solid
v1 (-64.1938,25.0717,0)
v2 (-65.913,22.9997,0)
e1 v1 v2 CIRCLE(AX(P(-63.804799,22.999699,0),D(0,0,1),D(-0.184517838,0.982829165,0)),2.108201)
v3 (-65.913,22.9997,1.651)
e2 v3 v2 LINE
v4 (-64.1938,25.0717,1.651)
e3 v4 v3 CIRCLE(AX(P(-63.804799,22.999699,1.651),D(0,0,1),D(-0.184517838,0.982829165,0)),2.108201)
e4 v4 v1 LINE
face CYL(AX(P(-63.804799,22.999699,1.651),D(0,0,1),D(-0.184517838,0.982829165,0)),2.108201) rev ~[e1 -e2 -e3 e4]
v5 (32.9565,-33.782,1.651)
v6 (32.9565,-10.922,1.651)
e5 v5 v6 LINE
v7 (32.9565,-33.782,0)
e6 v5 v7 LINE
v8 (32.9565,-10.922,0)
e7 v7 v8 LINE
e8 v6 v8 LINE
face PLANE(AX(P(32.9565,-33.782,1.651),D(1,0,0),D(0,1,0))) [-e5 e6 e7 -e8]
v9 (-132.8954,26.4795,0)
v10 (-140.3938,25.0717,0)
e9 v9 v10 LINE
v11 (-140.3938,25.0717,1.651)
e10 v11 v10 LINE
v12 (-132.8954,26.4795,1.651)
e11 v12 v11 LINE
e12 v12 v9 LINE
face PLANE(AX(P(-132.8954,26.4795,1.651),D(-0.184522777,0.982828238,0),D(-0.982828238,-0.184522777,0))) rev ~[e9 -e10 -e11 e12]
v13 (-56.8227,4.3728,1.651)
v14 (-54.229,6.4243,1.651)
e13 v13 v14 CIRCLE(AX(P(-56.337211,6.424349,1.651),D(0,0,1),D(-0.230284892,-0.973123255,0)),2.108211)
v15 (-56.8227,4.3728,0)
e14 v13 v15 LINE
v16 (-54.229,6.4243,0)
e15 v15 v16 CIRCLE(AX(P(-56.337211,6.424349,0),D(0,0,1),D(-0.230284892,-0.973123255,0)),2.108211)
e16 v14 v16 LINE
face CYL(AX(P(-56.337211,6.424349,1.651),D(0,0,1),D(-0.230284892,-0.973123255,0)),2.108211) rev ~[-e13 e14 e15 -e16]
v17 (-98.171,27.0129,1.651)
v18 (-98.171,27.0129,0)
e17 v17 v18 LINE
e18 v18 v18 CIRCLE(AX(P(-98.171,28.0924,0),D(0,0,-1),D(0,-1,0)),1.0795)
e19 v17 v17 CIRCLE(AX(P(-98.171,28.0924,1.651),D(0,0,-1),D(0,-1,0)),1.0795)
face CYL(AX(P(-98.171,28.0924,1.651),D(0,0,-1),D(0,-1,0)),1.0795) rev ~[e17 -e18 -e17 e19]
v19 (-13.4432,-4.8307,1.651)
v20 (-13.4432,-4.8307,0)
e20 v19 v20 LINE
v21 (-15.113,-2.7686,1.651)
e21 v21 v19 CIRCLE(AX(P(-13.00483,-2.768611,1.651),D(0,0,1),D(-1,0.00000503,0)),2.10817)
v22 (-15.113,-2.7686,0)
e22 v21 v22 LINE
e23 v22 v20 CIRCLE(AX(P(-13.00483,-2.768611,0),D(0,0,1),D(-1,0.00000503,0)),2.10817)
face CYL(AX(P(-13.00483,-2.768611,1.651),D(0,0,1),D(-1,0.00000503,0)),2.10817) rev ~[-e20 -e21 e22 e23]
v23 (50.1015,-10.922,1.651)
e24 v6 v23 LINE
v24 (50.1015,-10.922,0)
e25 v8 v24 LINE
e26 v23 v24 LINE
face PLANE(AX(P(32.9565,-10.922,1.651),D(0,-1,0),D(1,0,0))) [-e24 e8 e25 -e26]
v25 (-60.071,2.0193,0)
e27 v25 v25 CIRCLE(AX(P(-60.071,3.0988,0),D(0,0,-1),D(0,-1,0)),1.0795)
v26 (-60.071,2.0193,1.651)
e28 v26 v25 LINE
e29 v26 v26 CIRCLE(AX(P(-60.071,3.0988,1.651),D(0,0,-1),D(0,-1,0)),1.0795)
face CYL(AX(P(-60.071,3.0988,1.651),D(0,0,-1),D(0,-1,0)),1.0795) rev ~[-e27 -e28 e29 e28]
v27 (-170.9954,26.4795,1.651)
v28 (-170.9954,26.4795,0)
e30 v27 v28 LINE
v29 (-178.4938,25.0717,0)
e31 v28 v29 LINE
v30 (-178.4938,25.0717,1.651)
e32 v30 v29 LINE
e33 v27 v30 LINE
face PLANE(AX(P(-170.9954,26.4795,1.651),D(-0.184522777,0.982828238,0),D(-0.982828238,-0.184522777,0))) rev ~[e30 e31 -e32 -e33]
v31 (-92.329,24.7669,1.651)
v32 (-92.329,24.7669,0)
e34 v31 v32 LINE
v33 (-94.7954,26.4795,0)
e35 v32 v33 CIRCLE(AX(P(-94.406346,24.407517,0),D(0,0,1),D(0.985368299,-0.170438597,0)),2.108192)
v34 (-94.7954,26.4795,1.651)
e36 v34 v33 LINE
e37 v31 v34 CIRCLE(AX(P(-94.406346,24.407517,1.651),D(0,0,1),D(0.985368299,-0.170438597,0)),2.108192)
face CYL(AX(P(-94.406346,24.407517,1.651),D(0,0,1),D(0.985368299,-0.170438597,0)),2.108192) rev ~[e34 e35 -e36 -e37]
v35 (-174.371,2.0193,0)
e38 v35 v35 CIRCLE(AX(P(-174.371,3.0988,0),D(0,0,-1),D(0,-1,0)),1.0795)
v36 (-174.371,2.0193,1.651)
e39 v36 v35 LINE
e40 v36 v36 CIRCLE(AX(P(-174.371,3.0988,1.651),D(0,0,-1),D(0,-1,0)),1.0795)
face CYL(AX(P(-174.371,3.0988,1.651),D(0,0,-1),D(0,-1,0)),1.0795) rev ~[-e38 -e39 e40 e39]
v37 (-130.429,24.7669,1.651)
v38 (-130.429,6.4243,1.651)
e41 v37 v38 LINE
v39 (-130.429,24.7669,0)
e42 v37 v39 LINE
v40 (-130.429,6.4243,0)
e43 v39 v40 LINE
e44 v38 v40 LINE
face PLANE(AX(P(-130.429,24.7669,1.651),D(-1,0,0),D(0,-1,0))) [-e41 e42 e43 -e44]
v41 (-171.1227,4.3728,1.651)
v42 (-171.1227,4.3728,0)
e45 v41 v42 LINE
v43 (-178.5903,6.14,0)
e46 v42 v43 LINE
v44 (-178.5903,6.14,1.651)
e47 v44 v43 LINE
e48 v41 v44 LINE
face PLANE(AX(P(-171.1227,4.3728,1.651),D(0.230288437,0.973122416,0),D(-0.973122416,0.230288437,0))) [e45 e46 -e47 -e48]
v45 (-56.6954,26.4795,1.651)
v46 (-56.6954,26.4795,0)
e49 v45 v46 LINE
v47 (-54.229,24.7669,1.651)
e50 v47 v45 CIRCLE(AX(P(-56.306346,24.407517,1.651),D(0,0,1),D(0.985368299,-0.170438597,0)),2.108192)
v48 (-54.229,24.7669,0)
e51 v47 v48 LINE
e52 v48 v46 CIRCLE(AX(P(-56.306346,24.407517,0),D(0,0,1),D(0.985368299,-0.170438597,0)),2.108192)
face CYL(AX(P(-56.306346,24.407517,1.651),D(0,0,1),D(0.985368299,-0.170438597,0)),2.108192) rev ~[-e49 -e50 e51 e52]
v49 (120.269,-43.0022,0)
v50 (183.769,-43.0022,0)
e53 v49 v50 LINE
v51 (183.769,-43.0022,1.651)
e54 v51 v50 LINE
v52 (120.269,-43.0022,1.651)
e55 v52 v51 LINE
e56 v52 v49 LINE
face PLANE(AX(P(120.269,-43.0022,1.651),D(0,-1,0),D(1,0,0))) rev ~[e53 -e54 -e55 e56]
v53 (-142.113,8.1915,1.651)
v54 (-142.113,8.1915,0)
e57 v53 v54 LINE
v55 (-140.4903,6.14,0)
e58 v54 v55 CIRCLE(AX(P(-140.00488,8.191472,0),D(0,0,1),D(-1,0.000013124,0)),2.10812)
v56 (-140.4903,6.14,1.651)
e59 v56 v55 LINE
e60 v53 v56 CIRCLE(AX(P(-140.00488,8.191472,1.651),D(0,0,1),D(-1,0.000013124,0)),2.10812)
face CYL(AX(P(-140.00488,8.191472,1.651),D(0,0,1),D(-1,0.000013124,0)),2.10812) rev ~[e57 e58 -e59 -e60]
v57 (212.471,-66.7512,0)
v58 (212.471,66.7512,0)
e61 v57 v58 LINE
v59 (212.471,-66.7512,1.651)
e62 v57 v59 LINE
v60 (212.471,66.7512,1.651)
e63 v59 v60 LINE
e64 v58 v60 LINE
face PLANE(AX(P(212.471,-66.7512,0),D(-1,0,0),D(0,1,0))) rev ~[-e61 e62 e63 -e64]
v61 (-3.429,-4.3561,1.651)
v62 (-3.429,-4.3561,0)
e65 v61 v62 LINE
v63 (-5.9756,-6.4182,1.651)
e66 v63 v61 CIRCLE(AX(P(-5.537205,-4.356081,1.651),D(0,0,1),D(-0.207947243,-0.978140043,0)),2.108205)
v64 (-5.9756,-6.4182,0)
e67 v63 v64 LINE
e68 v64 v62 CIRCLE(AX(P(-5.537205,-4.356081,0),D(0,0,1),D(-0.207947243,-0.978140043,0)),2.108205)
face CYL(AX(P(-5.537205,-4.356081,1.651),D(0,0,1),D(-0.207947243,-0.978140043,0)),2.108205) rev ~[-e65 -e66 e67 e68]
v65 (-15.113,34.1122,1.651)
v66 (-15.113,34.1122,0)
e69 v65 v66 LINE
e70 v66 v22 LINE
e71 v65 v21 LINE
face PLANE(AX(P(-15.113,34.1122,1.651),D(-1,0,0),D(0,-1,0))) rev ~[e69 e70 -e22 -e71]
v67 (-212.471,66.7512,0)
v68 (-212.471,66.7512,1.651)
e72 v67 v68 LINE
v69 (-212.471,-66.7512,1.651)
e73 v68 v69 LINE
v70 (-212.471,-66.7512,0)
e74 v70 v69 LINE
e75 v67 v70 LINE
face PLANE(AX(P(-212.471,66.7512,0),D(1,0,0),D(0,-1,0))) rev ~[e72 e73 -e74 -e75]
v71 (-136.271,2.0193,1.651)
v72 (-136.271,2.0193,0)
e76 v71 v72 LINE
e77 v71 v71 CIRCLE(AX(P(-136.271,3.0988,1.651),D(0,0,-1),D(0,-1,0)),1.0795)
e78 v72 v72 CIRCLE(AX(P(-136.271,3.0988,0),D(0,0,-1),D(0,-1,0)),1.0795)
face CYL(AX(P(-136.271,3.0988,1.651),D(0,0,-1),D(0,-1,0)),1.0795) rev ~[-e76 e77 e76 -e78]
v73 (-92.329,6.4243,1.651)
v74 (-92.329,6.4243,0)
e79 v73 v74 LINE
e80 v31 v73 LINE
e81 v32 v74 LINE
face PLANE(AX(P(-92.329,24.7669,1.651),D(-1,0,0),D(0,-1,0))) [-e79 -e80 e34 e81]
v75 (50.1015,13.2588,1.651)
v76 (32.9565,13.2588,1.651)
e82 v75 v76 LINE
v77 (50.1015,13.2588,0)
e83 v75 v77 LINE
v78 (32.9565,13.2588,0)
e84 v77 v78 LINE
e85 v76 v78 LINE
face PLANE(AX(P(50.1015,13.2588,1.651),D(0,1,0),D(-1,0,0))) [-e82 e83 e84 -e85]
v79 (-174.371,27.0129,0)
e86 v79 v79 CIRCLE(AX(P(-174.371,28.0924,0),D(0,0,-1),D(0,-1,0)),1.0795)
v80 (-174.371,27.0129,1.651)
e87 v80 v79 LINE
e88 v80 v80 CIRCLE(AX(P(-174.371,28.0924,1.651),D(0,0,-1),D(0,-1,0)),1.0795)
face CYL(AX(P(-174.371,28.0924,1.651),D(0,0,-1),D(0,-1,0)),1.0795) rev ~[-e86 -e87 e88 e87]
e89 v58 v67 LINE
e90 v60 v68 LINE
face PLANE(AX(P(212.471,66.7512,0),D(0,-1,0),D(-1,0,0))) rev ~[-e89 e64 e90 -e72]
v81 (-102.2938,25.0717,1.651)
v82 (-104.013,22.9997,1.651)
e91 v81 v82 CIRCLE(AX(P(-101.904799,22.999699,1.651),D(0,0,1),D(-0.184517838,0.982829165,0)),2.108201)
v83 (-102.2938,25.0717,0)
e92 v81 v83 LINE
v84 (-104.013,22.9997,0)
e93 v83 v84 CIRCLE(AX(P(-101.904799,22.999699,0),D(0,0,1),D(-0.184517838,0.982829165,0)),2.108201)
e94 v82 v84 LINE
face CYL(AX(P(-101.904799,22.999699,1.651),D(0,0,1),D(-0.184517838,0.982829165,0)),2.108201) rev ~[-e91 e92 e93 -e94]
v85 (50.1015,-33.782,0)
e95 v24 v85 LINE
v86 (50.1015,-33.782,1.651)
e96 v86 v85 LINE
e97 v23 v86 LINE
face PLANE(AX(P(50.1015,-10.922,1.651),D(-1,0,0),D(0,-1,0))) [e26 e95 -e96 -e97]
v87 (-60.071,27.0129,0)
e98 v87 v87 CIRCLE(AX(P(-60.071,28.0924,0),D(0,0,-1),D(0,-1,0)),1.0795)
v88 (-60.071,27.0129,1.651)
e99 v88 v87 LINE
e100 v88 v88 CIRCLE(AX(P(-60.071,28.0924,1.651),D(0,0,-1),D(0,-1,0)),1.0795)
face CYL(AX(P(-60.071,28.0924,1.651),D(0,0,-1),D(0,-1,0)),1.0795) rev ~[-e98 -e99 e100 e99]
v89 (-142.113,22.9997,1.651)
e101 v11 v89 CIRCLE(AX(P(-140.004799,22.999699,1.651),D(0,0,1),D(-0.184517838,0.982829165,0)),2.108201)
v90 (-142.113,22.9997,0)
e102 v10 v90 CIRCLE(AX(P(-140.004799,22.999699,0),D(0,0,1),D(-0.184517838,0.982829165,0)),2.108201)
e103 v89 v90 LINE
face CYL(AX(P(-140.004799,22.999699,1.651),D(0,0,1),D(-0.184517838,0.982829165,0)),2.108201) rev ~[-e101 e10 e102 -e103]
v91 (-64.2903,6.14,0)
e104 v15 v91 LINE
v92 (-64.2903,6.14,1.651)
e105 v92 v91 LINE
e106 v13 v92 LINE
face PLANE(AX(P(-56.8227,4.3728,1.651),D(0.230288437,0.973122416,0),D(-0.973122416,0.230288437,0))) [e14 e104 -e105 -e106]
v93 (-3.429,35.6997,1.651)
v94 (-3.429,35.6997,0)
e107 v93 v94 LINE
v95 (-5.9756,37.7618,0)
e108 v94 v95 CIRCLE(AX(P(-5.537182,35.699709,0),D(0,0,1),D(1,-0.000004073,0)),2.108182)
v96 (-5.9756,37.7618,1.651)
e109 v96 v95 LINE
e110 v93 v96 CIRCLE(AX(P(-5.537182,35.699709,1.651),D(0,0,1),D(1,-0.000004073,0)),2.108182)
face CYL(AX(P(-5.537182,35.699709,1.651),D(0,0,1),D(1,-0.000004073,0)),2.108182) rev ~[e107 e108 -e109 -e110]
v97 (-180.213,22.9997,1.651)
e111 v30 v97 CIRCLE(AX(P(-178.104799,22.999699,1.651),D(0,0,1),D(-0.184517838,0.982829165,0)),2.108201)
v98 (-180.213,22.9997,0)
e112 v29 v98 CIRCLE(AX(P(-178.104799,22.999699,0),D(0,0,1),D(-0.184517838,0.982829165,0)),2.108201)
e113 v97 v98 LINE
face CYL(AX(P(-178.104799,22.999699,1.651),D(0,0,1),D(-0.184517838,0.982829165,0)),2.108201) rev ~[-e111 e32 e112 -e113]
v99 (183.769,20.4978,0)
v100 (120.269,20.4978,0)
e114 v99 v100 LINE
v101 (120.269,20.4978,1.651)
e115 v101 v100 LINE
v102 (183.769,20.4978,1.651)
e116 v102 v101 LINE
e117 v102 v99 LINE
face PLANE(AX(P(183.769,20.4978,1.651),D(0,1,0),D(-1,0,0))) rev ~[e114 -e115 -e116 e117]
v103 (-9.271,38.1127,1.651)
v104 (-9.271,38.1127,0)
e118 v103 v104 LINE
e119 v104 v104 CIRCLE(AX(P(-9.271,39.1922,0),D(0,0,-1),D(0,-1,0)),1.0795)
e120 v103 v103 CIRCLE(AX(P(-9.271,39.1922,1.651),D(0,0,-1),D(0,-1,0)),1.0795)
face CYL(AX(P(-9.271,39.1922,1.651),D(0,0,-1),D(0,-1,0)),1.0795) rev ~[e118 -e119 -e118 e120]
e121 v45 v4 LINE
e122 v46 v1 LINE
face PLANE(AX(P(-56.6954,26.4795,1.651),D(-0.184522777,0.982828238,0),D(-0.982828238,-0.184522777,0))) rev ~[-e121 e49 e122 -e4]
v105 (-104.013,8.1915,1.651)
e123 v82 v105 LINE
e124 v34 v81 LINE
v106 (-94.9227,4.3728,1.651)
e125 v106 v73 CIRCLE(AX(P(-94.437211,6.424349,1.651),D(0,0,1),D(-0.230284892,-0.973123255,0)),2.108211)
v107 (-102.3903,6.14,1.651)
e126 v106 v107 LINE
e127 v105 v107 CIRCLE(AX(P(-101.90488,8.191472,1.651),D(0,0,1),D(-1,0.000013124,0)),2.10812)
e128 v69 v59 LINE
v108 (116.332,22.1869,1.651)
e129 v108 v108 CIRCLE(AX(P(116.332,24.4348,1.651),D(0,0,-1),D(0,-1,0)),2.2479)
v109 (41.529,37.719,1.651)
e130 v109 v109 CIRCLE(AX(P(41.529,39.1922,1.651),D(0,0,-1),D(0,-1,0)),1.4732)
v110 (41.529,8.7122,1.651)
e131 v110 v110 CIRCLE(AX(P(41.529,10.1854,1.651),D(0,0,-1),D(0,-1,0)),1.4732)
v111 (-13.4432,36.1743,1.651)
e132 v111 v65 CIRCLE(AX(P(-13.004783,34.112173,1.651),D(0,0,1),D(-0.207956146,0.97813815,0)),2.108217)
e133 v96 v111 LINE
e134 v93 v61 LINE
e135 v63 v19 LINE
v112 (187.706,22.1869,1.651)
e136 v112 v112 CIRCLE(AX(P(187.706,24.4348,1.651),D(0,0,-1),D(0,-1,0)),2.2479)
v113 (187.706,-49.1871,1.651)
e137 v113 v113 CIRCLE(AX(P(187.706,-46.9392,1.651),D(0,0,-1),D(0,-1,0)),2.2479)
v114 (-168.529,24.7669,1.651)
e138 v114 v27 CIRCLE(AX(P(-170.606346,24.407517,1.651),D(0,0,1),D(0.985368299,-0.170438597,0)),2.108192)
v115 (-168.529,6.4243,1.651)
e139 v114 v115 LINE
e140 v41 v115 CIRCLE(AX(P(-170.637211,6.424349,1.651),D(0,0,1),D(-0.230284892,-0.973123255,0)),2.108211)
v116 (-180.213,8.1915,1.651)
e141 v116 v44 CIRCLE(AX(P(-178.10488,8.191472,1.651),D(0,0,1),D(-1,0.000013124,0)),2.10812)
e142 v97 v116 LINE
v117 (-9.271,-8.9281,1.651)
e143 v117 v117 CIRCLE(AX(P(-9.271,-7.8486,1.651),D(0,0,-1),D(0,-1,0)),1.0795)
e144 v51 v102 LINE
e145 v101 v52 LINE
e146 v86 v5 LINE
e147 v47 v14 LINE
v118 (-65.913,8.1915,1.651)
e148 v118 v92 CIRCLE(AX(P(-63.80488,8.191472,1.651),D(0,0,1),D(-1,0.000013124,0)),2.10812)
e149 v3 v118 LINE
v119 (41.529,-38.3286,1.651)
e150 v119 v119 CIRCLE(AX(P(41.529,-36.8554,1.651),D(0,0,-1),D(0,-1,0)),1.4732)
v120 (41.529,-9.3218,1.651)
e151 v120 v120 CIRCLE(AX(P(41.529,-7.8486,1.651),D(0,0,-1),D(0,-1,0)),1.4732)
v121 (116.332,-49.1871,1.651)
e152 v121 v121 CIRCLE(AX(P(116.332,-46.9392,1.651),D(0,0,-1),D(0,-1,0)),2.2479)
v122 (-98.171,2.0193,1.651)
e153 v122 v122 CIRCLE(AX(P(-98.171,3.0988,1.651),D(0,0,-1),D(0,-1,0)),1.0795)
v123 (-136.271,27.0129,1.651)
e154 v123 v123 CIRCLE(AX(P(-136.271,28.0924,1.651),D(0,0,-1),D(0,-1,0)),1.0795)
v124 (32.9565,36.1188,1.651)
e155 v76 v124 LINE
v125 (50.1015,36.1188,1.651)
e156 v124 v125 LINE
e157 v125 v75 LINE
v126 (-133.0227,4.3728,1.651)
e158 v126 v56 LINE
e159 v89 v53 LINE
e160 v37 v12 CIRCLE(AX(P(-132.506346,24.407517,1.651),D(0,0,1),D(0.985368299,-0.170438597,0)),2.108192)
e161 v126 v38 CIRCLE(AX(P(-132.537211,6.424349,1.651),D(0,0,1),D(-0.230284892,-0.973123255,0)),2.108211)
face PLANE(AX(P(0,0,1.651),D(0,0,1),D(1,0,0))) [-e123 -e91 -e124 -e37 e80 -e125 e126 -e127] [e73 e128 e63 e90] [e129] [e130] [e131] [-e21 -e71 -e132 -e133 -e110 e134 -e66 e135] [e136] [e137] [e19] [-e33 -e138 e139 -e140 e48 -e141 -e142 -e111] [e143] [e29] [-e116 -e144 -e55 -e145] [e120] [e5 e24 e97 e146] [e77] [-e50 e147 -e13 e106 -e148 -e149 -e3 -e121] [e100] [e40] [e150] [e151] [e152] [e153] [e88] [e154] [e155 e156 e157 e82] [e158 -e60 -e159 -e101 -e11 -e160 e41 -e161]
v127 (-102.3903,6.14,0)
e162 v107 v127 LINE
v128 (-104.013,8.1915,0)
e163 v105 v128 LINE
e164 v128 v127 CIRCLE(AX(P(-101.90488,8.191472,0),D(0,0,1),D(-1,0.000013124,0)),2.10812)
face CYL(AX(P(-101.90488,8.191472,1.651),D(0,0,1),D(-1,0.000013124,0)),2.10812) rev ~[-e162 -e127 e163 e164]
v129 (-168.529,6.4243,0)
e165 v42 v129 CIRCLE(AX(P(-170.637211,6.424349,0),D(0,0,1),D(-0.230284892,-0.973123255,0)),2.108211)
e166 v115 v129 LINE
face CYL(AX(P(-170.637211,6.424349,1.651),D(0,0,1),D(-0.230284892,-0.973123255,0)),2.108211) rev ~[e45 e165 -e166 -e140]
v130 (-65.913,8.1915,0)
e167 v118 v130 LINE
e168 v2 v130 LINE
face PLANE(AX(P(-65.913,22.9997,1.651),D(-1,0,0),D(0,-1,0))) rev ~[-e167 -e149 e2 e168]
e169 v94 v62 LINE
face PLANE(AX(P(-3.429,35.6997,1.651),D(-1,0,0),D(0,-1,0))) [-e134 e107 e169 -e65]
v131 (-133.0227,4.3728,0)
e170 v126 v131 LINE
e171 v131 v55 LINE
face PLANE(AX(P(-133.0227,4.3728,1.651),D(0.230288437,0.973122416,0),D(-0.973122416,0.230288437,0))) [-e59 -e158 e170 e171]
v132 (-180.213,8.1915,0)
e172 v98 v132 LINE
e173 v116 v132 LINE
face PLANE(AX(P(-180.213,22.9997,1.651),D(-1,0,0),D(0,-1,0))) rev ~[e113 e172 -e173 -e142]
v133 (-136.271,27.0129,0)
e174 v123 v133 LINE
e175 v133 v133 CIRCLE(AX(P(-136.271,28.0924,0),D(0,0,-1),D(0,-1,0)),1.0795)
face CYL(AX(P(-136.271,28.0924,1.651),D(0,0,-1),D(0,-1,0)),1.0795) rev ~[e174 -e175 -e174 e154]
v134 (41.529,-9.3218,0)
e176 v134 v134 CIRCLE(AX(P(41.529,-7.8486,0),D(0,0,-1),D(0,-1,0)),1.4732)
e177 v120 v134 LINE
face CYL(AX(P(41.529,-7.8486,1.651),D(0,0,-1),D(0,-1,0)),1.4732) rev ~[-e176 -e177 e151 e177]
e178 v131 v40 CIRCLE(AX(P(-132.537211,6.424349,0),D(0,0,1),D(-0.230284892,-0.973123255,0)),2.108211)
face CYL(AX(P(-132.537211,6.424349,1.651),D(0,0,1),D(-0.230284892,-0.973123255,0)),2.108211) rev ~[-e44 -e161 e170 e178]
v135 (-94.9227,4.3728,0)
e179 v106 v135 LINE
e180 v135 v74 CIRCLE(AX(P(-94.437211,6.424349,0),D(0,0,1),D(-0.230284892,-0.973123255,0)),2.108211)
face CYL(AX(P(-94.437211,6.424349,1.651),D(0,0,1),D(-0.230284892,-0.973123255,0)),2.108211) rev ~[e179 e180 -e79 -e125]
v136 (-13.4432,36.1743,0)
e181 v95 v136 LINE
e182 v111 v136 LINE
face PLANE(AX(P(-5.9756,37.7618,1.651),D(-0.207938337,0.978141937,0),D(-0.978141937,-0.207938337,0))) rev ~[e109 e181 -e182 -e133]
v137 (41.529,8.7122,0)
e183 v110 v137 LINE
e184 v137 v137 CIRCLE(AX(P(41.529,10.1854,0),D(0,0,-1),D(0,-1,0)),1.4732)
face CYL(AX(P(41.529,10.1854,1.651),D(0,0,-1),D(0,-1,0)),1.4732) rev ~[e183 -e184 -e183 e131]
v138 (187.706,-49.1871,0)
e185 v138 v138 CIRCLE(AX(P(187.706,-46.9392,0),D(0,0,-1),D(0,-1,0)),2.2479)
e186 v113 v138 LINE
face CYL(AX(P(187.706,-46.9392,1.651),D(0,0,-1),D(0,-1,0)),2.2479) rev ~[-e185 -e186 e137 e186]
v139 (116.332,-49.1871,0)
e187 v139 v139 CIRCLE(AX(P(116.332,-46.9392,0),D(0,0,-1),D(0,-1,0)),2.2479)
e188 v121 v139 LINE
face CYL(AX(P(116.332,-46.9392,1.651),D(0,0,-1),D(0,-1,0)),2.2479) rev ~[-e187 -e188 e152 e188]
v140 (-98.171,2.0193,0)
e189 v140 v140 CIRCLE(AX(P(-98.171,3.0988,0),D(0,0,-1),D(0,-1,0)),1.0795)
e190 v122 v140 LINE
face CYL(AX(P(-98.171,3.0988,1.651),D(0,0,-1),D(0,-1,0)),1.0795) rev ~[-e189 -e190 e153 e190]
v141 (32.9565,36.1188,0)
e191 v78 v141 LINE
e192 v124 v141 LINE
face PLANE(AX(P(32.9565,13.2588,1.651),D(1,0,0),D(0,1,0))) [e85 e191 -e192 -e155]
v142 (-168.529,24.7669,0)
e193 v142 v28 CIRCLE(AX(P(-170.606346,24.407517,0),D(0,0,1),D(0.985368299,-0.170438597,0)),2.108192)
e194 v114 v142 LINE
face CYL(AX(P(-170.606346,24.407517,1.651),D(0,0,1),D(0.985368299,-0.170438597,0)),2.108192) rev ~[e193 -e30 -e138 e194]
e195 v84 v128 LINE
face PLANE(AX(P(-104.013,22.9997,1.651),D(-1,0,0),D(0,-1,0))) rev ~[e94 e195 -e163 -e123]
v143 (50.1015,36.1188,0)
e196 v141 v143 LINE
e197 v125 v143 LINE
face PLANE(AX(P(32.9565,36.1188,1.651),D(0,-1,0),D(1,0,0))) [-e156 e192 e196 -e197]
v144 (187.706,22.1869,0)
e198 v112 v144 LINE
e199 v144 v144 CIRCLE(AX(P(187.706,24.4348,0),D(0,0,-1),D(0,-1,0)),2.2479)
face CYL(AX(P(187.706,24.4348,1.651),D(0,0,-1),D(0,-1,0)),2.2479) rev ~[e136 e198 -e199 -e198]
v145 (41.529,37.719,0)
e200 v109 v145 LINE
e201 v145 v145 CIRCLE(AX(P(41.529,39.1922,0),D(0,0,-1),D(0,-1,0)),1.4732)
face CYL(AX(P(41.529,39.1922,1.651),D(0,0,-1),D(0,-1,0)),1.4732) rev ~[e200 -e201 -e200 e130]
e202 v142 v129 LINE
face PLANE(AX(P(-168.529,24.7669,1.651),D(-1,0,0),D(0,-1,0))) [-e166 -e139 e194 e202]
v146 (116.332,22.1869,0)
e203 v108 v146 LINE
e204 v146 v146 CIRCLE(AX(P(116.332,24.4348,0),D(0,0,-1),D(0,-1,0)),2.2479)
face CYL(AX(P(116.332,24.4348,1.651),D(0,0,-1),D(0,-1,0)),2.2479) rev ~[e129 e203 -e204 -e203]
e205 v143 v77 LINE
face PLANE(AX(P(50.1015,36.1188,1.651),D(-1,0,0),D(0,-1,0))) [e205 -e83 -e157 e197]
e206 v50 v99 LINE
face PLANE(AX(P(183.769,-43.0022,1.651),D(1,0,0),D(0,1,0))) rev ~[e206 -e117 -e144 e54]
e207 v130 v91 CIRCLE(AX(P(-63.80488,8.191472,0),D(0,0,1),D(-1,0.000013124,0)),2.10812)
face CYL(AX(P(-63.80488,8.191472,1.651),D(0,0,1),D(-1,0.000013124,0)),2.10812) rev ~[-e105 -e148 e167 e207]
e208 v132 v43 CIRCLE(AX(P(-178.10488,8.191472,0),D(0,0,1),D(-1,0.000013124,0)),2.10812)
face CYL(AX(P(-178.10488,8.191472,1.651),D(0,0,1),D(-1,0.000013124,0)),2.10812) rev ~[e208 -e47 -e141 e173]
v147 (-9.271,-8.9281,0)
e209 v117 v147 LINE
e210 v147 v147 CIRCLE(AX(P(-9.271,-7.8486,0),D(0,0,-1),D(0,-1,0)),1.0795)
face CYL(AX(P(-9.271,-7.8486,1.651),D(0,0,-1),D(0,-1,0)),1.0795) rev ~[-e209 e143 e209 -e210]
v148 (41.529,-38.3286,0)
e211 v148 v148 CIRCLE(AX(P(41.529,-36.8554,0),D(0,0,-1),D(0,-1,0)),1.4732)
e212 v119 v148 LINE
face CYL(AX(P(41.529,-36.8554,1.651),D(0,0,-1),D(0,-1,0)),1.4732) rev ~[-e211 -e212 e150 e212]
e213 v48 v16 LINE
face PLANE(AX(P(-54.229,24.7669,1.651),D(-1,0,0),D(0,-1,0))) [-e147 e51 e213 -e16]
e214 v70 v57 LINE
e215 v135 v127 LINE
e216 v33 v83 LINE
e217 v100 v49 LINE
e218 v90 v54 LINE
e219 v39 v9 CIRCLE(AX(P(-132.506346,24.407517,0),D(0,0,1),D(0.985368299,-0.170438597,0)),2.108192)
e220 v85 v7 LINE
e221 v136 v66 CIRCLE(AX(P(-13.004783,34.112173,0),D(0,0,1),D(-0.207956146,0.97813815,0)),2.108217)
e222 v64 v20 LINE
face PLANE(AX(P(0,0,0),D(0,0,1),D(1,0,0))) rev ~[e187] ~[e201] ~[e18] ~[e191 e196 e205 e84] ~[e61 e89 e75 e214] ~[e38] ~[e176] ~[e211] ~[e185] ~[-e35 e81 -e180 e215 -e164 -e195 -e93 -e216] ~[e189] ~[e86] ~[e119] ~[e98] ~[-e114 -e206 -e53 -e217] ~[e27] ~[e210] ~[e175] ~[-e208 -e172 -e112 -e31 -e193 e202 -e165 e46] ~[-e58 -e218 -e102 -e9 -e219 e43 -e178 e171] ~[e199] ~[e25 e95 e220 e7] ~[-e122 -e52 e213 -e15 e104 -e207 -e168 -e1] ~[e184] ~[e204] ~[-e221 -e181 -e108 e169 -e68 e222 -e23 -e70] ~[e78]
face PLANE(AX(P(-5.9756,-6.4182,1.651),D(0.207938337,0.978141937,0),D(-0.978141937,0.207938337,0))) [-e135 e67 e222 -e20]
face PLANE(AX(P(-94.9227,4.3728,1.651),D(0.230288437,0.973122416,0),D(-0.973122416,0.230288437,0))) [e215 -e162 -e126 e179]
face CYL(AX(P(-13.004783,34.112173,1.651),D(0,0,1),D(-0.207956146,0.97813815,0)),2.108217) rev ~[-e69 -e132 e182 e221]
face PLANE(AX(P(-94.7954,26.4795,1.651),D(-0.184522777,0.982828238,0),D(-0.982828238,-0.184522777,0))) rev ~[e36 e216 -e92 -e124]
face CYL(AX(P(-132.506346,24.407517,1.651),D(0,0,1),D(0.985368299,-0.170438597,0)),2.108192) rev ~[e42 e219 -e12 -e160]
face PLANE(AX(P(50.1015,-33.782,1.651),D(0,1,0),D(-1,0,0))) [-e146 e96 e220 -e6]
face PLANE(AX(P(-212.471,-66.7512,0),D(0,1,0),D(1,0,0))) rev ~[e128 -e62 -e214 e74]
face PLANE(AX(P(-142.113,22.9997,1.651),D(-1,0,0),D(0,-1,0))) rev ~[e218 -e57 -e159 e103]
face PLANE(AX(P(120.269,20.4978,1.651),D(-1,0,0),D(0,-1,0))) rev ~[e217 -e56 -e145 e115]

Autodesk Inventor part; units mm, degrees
ref_plane "YZ Plane" through (0, 0, 0) normal (1, 0, 0) x (0, 1, 0)
ref_plane "XZ Plane" through (0, 0, 0) normal (0, 1, 0) x (-1, 0, 0)
ref_plane "XY Plane" through (0, 0, 0) normal (0, 0, 1) x (1, 0, 0)
sketch "Sketch1" plane through (0, 0, 0) normal (0, 0, 1) x (1, 0, 0)
  line L0 (-212.471, -66.7512) -> (212.471, -66.7512)
  line L1 (212.471, -66.7512) -> (212.471, 66.7512)
  line L2 (212.471, 66.7512) -> (-212.471, 66.7512)
  line L3 (-212.471, 66.7512) -> (-212.471, -66.7512)
  line L4 (-212.471, -66.7512) -> (212.471, 66.7512) construction
  line L5 (212.471, -66.7512) -> (-212.471, 66.7512) construction
  point P0 (0, 0)
  dimension "d0" = 424.942
  dimension "d1" = 133.5024
extrude "pdu" add sketch "Sketch1" along normal blind 1.651
sketch "dsub9 sketch" plane through (0, 0, 1.651) normal (0, 0, 1) x (1, 0, 0)
  line L0 (-174.371, 28.0924) -> (-174.371, 3.0988) construction
  line L1 (-164.2108, 15.5956) -> (-184.5312, 15.5956) construction
  circle A0 centre (-174.371, 3.0988) radius 1.1303
  circle A1 centre (-174.371, 28.0924) radius 1.1303
  line L2 (-168.529, 24.7669) -> (-168.529, 6.4243)
  line L3 (-180.213, 22.9997) -> (-180.213, 8.1915)
  arc A2 (-171.1227, 4.3728) -> (-168.529, 6.4243) centre (-170.6372, 6.4243) ccw
  arc A3 (-180.213, 8.1915) -> (-178.5903, 6.14) centre (-178.1048, 8.1915) ccw
  arc A4 (-178.4938, 25.0717) -> (-180.213, 22.9997) centre (-178.1048, 22.9997) ccw
  arc A5 (-168.529, 24.0482) -> (-170.9954, 26.4795) centre (-170.6064, 24.4075) ccw
  line L4 (-170.9954, 26.4795) -> (-178.4938, 25.0717)
  line L5 (-171.1227, 4.3728) -> (-178.5903, 6.14)
  line L6 (209.423, 58.4962) -> (-209.423, 58.4962) construction
  line L7 (-209.423, 58.4962) -> (-209.423, -58.4962) construction
  line L8 (-209.423, -58.4962) -> (209.423, -58.4962) construction
  line L9 (209.423, -58.4962) -> (209.423, 58.4962) construction
  line L10 (212.471, 66.7512) -> (-212.471, 66.7512) construction
  line L11 (-212.471, -66.7512) -> (212.471, -66.7512) construction
  line L12 (-212.471, 66.7512) -> (-212.471, -66.7512) construction
  line L13 (212.471, -66.7512) -> (212.471, 66.7512) construction
  line L14 (-170.6372, 4.3161) -> (-187.2839, 4.3161) construction
  line L15 (-170.6064, 26.5157) -> (-195.0837, 26.5157) construction
  line L16 (-136.271, 28.0924) -> (-136.271, 3.0988) construction
  line L17 (-132.5064, 26.5157) -> (-156.9837, 26.5157) construction
  line L18 (-130.429, 24.7669) -> (-130.429, 6.4243)
  line L19 (-133.0227, 4.3728) -> (-140.4903, 6.14)
  circle A6 centre (-136.271, 28.0924) radius 1.1303
  circle A7 centre (-136.271, 3.0988) radius 1.1303
  line L20 (-132.5372, 4.3161) -> (-149.1839, 4.3161) construction
  line L21 (-126.1108, 15.5956) -> (-146.4312, 15.5956) construction
  arc A8 (-130.429, 24.0482) -> (-132.8954, 26.4795) centre (-132.5064, 24.4075) ccw
  line L22 (-142.113, 22.9997) -> (-142.113, 8.1915)
  line L23 (-132.8954, 26.4795) -> (-140.3938, 25.0717)
  arc A9 (-133.0227, 4.3728) -> (-130.429, 6.4243) centre (-132.5372, 6.4243) ccw
  arc A10 (-142.113, 8.1915) -> (-140.4903, 6.14) centre (-140.0048, 8.1915) ccw
  arc A11 (-140.3938, 25.0717) -> (-142.113, 22.9997) centre (-140.0048, 22.9997) ccw
  line L24 (-98.171, 28.0924) -> (-98.171, 3.0988) construction
  line L25 (-94.4064, 26.5157) -> (-118.8837, 26.5157) construction
  line L26 (-92.329, 24.7669) -> (-92.329, 6.4243)
  line L27 (-94.9227, 4.3728) -> (-102.3903, 6.14)
  circle A12 centre (-98.171, 28.0924) radius 1.1303
  circle A13 centre (-98.171, 3.0988) radius 1.1303
  line L28 (-94.4372, 4.3161) -> (-111.0839, 4.3161) construction
  line L29 (-88.0108, 15.5956) -> (-108.3312, 15.5956) construction
  arc A14 (-92.329, 24.0482) -> (-94.7954, 26.4795) centre (-94.4064, 24.4075) ccw
  line L30 (-104.013, 22.9997) -> (-104.013, 8.1915)
  line L31 (-94.7954, 26.4795) -> (-102.2938, 25.0717)
  arc A15 (-94.9227, 4.3728) -> (-92.329, 6.4243) centre (-94.4372, 6.4243) ccw
  arc A16 (-104.013, 8.1915) -> (-102.3903, 6.14) centre (-101.9048, 8.1915) ccw
  arc A17 (-102.2938, 25.0717) -> (-104.013, 22.9997) centre (-101.9048, 22.9997) ccw
  line L32 (-60.071, 28.0924) -> (-60.071, 3.0988) construction
  line L33 (-56.3064, 26.5157) -> (-80.7837, 26.5157) construction
  line L34 (-54.229, 24.7669) -> (-54.229, 6.4243)
  line L35 (-56.8227, 4.3728) -> (-64.2903, 6.14)
  circle A18 centre (-60.071, 28.0924) radius 1.1303
  circle A19 centre (-60.071, 3.0988) radius 1.1303
  line L36 (-56.3372, 4.3161) -> (-72.9839, 4.3161) construction
  line L37 (-49.9108, 15.5956) -> (-70.2312, 15.5956) construction
  arc A20 (-54.229, 24.0482) -> (-56.6954, 26.4795) centre (-56.3064, 24.4075) ccw
  line L38 (-65.913, 22.9997) -> (-65.913, 8.1915)
  line L39 (-56.6954, 26.4795) -> (-64.1938, 25.0717)
  arc A21 (-56.8227, 4.3728) -> (-54.229, 6.4243) centre (-56.3372, 6.4243) ccw
  arc A22 (-65.913, 8.1915) -> (-64.2903, 6.14) centre (-63.8048, 8.1915) ccw
  arc A23 (-64.1938, 25.0717) -> (-65.913, 22.9997) centre (-63.8048, 22.9997) ccw
  point P0 (0, 0)
  point P1 (-174.371, 15.5956)
  point P2 (-168.529, 15.5956)
  point P3 (-180.213, 15.5956)
  point P4 (-136.271, 15.5956)
  point P5 (-130.429, 15.5956)
  point P6 (-142.113, 15.5956)
  point P7 (-98.171, 15.5956)
  point P8 (-92.329, 15.5956)
  point P9 (-104.013, 15.5956)
  point P10 (-60.071, 15.5956)
  point P11 (-54.229, 15.5956)
  point P12 (-65.913, 15.5956)
  dimension "d4" = 2.2606
  dimension "d5" = 2.2606
  dimension "d6" = 24.9936
  dimension "d7" = 4.2164
  dimension "d8" = 4.2164
  dimension "d9" = 4.2164
  dimension "d10" = 4.2164
  dimension "d11" = 14.8082
  dimension "d12" = 17.9832
  dimension "d13" = 8.255
  dimension "d14" = 8.255
  dimension "d15" = 3.048
  dimension "d16" = 3.048
  dimension "d17" = 38.1
  dimension "d18" = 5.842
  dimension "d19" = 11.684
  dimension "d20" = 69.85
  dimension "d21" = 7.4985
  dimension "d24" = 38.1
sketch "dsub25 sketch" plane through (0, 0, 1.651) normal (0, 0, 1) x (1, 0, 0)
  line L0 (16.129, 15.6718) -> (-34.671, 15.6718) construction
  line L1 (-9.271, 39.1922) -> (-9.271, -7.8486) construction
  circle A0 centre (-9.271, -7.8486) radius 1.1303
  circle A1 centre (-9.271, 39.1922) radius 1.1303
  line L2 (-3.429, 35.6997) -> (-3.429, -4.3561)
  line L3 (-15.113, 34.1122) -> (-15.113, -2.7686)
  arc A2 (-5.9756, -6.4182) -> (-3.429, -4.3561) centre (-5.5372, -4.3561) ccw
  arc A3 (-3.429, 35.6997) -> (-5.9756, 37.7618) centre (-5.5372, 35.6997) ccw
  arc A4 (-13.4432, 36.1743) -> (-15.113, 34.1122) centre (-13.0048, 34.1122) ccw
  arc A5 (-15.113, -2.7686) -> (-13.4432, -4.8307) centre (-13.0048, -2.7686) ccw
  line L4 (-5.9756, 37.7618) -> (-13.4432, 36.1743)
  line L5 (-5.9756, -6.4182) -> (-13.4432, -4.8307)
  line L6 (-212.471, 66.7512) -> (-212.471, -66.7512) projected
  line L7 (-212.471, -66.7512) -> (212.471, -66.7512) projected
  line L8 (-5.9756, 37.7618) -> (-23.5611, 37.7618) construction
  line L9 (-5.7893, -19.1331) -> (-33.2019, -19.1331) construction
  point P0 (0, 0)
  point P1 (-9.271, 15.6718)
  point P2 (-9.271, 15.6718)
  point P3 (-3.429, 15.6718)
  point P4 (-15.113, 15.6718)
  dimension "d31" = 2.2606
  dimension "d32" = 2.2606
  dimension "d33" = 47.0408
  dimension "d34" = 4.2164
  dimension "d35" = 4.2164
  dimension "d36" = 4.2164
  dimension "d37" = 4.2164
  dimension "d38" = 36.8808
  dimension "d39" = 40.0558
  dimension "d40" = 50.8
  dimension "d41" = 11.684
  dimension "d42" = 5.842
  dimension "d43" = 203.2
  dimension "d44" = 58.9026
sketch "CAT7 sketch" plane through (0, 0, 1.651) normal (0, 0, 1) x (1, 0, 0)
  line L0 (32.9565, 36.1188) -> (50.1015, 36.1188)
  line L1 (50.1015, 36.1188) -> (50.1015, 13.2588)
  line L2 (50.1015, 13.2588) -> (32.9565, 13.2588)
  line L3 (32.9565, 13.2588) -> (32.9565, 36.1188)
  line L4 (23.6736, 24.6888) -> (79.7413, 24.6888) construction
  circle A0 centre (41.529, 39.1922) radius 1.1303
  circle A1 centre (41.529, 10.1854) radius 1.1303
  line L5 (41.529, 39.1922) -> (41.529, 10.1854) construction
  line L6 (-212.471, -66.7512) -> (212.471, -66.7512) construction
  line L7 (-212.471, 66.7512) -> (-212.471, -66.7512) construction
  line L8 (32.9565, -10.922) -> (50.1015, -10.922)
  line L9 (50.1015, -10.922) -> (50.1015, -33.782)
  line L10 (50.1015, -33.782) -> (32.9565, -33.782)
  line L11 (32.9565, -33.782) -> (32.9565, -10.922)
  circle A2 centre (41.529, -7.8486) radius 1.1303
  circle A3 centre (41.529, -36.8554) radius 1.1303
  line L12 (41.529, -7.8486) -> (41.529, -36.8554) construction
  point P0 (0, 0)
  point P1 (32.9565, 24.6888)
  point P2 (41.529, 36.1188)
  point P3 (41.529, 24.6888)
  point P4 (41.529, -10.922)
  point P5 (32.9565, -22.352)
  point P6 (23.6736, -22.352)
  point P7 (41.529, -22.352)
  dimension "d47" = 22.86
  dimension "d48" = 17.145
  dimension "d49" = 2.2606
  dimension "d50" = 2.2606
  dimension "d51" = 29.0068
  dimension "d52" = 76.9366
  dimension "d53" = 254
  dimension "d56" = 47.0408
sketch "Sketch5" plane through (0, 0, 1.651) normal (0, 0, 1) x (1, 0, 0)
  line L0 (110.109, -53.1622) -> (193.929, -53.1622) construction
  line L1 (193.929, -53.1622) -> (193.929, 30.6578) construction
  line L2 (193.929, 30.6578) -> (110.109, 30.6578) construction
  line L3 (110.109, 30.6578) -> (110.109, -53.1622) construction
  line L4 (110.109, -53.1622) -> (193.929, 30.6578) construction
  line L5 (193.929, -53.1622) -> (110.109, 30.6578) construction
  line L6 (-212.471, 66.7512) -> (-212.471, -66.7512) projected
  line L7 (-212.471, -66.7512) -> (212.471, -66.7512) projected
  line L8 (120.269, -43.0022) -> (183.769, -43.0022)
  line L9 (183.769, -43.0022) -> (183.769, 20.4978)
  line L10 (183.769, 20.4978) -> (120.269, 20.4978)
  line L11 (120.269, 20.4978) -> (120.269, -43.0022)
  line L12 (120.269, -43.0022) -> (183.769, 20.4978) construction
  line L13 (183.769, -43.0022) -> (120.269, 20.4978) construction
  line L14 (116.332, -46.9392) -> (187.706, -46.9392) construction
  line L15 (187.706, -46.9392) -> (187.706, 24.4348) construction
  line L16 (187.706, 24.4348) -> (116.332, 24.4348) construction
  line L17 (116.332, 24.4348) -> (116.332, -46.9392) construction
  line L18 (116.332, -46.9392) -> (187.706, 24.4348) construction
  line L19 (187.706, -46.9392) -> (116.332, 24.4348) construction
  circle A0 centre (116.332, 24.4348) radius 2.2479
  circle A1 centre (187.706, 24.4348) radius 2.2479
  circle A2 centre (187.706, -46.9392) radius 2.2479
  circle A3 centre (116.332, -46.9392) radius 2.2479
  line L20 (120.269, -43.0022) -> (183.769, -43.0022)
  line L21 (183.769, -43.0022) -> (183.769, 20.4978)
  line L22 (183.769, 20.4978) -> (120.269, 20.4978)
  line L23 (120.269, 20.4978) -> (120.269, -43.0022)
  line L24 (120.269, -43.0022) -> (183.769, 20.4978) construction
  line L25 (183.769, -43.0022) -> (120.269, 20.4978) construction
  point P0 (0, 0)
  point P1 (152.019, -11.2522)
  point P2 (152.019, -11.2522)
  dimension "d63" = 83.82
  dimension "d64" = 83.82
  dimension "d65" = 322.58
  dimension "d66" = 13.589
  dimension "d67" = 63.5
  dimension "d68" = 63.5
  dimension "d69" = 71.374
  dimension "d70" = 4.4958
  dimension "d71" = 4.4958
  dimension "d72" = 4.4958
  dimension "d73" = 4.4958
hole "airflow holes" at (187.706, 24.4348, 1.651) at (116.332, 24.4348, 1.651) at (116.332, -46.9392, 1.651) at (187.706, -46.9392, 1.651) direction (0, 0, -1) diameter 4.4958 end through all clearance for "Flat Head Machine Screw (82)" size "#8" standard "Ansi Unified Screw Threads"
sketch "Sketch7" plane through (0, 0, 1.651) normal (0, 0, 1) x (1, 0, 0)
  line L0 (110.109, -53.1622) -> (193.929, -53.1622) construction
  line L1 (193.929, -53.1622) -> (193.929, 30.6578) construction
  line L2 (193.929, 30.6578) -> (110.109, 30.6578) construction
  line L3 (110.109, 30.6578) -> (110.109, -53.1622) construction
  line L4 (110.109, -53.1622) -> (193.929, 30.6578) construction
  line L5 (193.929, -53.1622) -> (110.109, 30.6578) construction
  line L6 (-212.471, 66.7512) -> (-212.471, -66.7512)
  line L7 (-212.471, -66.7512) -> (212.471, -66.7512)
  line L8 (120.269, -43.0022) -> (183.769, -43.0022)
  line L9 (183.769, -43.0022) -> (183.769, 20.4978)
  line L10 (183.769, 20.4978) -> (120.269, 20.4978)
  line L11 (120.269, 20.4978) -> (120.269, -43.0022)
  line L12 (120.269, -43.0022) -> (183.769, 20.4978) construction
  line L13 (183.769, -43.0022) -> (120.269, 20.4978) construction
  line L14 (116.332, -46.9392) -> (187.706, -46.9392) construction
  line L15 (187.706, -46.9392) -> (187.706, 24.4348) construction
  line L16 (187.706, 24.4348) -> (116.332, 24.4348) construction
  line L17 (116.332, 24.4348) -> (116.332, -46.9392) construction
  line L18 (116.332, -46.9392) -> (187.706, 24.4348) construction
  line L19 (187.706, -46.9392) -> (116.332, 24.4348) construction
  circle A0 centre (116.332, 24.4348) radius 2.2479
  circle A1 centre (187.706, 24.4348) radius 2.2479
  circle A2 centre (187.706, -46.9392) radius 2.2479
  circle A3 centre (116.332, -46.9392) radius 2.2479
  line L20 (120.269, -43.0022) -> (183.769, -43.0022)
  line L21 (183.769, -43.0022) -> (183.769, 20.4978)
  line L22 (183.769, 20.4978) -> (120.269, 20.4978)
  line L23 (120.269, 20.4978) -> (120.269, -43.0022)
  line L24 (120.269, -43.0022) -> (183.769, 20.4978) construction
  line L25 (183.769, -43.0022) -> (120.269, 20.4978) construction
  point P0 (0, 0)
  point P1 (0, 0)
  point P2 (152.019, -11.2522)
  point P3 (152.019, -11.2522)
  dimension "d83" = 83.82
  dimension "d84" = 83.82
  dimension "d85" = 322.58
  dimension "d86" = 13.589
  dimension "d87" = 63.5
  dimension "d88" = 63.5
  dimension "d89" = 71.374
  dimension "d90" = 4.4958
  dimension "d91" = 4.4958
  dimension "d92" = 4.4958
  dimension "d93" = 4.4958
extrude "airflow cutout" cut sketch "Sketch7" against normal through all contours L11 L10 L9 L8
hole "dsub9 4-40 holes" at (-174.371, 28.0924, 1.651) at (-174.371, 3.0988, 1.651) at (-136.271, 3.0988, 1.651) at (-136.271, 28.0924, 1.651) at (-98.171, 28.0924, 1.651) at (-98.171, 3.0988, 1.651) at (-60.071, 28.0924, 1.651) at (-60.071, 3.0988, 1.651) direction (0, 0, -1) diameter 2.159 depth 8.8646 tip angle 118
extrude "dsub9 cutouts" cut sketch "dsub9 sketch" against normal through all contours L2 A2 L5 A3 L3 A4 L4 A5 | L18 A9 L19 A10 L22 A11 L23 A8 | L26 A15 L27 A16 L30 A17 L31 A14 | L34 A21 L35 A22 L38 A23 L39 A20
hole "CAT7 holes" at (41.529, 39.1922, 1.651) at (41.529, 10.1854, 1.651) at (41.529, -7.8486, 1.651) at (41.529, -36.8554, 1.651) direction (0, 0, -1) diameter 2.9464 end through all
extrude "CAT7 cutout" cut sketch "CAT7 sketch" against normal through all contours L0 L1 L2 L3 | L8 L9 L10 L11
hole "dsub25 4-40 holes" at (-9.271, 39.1922, 1.651) at (-9.271, -7.8486, 1.651) direction (0, 0, -1) diameter 2.159 end through all
extrude "dsub25 cutout" cut sketch "dsub25 sketch" against normal through all contours L2 A2 L5 A5 L3 A4 L4 A3
properties part number "PDU_chassis"
